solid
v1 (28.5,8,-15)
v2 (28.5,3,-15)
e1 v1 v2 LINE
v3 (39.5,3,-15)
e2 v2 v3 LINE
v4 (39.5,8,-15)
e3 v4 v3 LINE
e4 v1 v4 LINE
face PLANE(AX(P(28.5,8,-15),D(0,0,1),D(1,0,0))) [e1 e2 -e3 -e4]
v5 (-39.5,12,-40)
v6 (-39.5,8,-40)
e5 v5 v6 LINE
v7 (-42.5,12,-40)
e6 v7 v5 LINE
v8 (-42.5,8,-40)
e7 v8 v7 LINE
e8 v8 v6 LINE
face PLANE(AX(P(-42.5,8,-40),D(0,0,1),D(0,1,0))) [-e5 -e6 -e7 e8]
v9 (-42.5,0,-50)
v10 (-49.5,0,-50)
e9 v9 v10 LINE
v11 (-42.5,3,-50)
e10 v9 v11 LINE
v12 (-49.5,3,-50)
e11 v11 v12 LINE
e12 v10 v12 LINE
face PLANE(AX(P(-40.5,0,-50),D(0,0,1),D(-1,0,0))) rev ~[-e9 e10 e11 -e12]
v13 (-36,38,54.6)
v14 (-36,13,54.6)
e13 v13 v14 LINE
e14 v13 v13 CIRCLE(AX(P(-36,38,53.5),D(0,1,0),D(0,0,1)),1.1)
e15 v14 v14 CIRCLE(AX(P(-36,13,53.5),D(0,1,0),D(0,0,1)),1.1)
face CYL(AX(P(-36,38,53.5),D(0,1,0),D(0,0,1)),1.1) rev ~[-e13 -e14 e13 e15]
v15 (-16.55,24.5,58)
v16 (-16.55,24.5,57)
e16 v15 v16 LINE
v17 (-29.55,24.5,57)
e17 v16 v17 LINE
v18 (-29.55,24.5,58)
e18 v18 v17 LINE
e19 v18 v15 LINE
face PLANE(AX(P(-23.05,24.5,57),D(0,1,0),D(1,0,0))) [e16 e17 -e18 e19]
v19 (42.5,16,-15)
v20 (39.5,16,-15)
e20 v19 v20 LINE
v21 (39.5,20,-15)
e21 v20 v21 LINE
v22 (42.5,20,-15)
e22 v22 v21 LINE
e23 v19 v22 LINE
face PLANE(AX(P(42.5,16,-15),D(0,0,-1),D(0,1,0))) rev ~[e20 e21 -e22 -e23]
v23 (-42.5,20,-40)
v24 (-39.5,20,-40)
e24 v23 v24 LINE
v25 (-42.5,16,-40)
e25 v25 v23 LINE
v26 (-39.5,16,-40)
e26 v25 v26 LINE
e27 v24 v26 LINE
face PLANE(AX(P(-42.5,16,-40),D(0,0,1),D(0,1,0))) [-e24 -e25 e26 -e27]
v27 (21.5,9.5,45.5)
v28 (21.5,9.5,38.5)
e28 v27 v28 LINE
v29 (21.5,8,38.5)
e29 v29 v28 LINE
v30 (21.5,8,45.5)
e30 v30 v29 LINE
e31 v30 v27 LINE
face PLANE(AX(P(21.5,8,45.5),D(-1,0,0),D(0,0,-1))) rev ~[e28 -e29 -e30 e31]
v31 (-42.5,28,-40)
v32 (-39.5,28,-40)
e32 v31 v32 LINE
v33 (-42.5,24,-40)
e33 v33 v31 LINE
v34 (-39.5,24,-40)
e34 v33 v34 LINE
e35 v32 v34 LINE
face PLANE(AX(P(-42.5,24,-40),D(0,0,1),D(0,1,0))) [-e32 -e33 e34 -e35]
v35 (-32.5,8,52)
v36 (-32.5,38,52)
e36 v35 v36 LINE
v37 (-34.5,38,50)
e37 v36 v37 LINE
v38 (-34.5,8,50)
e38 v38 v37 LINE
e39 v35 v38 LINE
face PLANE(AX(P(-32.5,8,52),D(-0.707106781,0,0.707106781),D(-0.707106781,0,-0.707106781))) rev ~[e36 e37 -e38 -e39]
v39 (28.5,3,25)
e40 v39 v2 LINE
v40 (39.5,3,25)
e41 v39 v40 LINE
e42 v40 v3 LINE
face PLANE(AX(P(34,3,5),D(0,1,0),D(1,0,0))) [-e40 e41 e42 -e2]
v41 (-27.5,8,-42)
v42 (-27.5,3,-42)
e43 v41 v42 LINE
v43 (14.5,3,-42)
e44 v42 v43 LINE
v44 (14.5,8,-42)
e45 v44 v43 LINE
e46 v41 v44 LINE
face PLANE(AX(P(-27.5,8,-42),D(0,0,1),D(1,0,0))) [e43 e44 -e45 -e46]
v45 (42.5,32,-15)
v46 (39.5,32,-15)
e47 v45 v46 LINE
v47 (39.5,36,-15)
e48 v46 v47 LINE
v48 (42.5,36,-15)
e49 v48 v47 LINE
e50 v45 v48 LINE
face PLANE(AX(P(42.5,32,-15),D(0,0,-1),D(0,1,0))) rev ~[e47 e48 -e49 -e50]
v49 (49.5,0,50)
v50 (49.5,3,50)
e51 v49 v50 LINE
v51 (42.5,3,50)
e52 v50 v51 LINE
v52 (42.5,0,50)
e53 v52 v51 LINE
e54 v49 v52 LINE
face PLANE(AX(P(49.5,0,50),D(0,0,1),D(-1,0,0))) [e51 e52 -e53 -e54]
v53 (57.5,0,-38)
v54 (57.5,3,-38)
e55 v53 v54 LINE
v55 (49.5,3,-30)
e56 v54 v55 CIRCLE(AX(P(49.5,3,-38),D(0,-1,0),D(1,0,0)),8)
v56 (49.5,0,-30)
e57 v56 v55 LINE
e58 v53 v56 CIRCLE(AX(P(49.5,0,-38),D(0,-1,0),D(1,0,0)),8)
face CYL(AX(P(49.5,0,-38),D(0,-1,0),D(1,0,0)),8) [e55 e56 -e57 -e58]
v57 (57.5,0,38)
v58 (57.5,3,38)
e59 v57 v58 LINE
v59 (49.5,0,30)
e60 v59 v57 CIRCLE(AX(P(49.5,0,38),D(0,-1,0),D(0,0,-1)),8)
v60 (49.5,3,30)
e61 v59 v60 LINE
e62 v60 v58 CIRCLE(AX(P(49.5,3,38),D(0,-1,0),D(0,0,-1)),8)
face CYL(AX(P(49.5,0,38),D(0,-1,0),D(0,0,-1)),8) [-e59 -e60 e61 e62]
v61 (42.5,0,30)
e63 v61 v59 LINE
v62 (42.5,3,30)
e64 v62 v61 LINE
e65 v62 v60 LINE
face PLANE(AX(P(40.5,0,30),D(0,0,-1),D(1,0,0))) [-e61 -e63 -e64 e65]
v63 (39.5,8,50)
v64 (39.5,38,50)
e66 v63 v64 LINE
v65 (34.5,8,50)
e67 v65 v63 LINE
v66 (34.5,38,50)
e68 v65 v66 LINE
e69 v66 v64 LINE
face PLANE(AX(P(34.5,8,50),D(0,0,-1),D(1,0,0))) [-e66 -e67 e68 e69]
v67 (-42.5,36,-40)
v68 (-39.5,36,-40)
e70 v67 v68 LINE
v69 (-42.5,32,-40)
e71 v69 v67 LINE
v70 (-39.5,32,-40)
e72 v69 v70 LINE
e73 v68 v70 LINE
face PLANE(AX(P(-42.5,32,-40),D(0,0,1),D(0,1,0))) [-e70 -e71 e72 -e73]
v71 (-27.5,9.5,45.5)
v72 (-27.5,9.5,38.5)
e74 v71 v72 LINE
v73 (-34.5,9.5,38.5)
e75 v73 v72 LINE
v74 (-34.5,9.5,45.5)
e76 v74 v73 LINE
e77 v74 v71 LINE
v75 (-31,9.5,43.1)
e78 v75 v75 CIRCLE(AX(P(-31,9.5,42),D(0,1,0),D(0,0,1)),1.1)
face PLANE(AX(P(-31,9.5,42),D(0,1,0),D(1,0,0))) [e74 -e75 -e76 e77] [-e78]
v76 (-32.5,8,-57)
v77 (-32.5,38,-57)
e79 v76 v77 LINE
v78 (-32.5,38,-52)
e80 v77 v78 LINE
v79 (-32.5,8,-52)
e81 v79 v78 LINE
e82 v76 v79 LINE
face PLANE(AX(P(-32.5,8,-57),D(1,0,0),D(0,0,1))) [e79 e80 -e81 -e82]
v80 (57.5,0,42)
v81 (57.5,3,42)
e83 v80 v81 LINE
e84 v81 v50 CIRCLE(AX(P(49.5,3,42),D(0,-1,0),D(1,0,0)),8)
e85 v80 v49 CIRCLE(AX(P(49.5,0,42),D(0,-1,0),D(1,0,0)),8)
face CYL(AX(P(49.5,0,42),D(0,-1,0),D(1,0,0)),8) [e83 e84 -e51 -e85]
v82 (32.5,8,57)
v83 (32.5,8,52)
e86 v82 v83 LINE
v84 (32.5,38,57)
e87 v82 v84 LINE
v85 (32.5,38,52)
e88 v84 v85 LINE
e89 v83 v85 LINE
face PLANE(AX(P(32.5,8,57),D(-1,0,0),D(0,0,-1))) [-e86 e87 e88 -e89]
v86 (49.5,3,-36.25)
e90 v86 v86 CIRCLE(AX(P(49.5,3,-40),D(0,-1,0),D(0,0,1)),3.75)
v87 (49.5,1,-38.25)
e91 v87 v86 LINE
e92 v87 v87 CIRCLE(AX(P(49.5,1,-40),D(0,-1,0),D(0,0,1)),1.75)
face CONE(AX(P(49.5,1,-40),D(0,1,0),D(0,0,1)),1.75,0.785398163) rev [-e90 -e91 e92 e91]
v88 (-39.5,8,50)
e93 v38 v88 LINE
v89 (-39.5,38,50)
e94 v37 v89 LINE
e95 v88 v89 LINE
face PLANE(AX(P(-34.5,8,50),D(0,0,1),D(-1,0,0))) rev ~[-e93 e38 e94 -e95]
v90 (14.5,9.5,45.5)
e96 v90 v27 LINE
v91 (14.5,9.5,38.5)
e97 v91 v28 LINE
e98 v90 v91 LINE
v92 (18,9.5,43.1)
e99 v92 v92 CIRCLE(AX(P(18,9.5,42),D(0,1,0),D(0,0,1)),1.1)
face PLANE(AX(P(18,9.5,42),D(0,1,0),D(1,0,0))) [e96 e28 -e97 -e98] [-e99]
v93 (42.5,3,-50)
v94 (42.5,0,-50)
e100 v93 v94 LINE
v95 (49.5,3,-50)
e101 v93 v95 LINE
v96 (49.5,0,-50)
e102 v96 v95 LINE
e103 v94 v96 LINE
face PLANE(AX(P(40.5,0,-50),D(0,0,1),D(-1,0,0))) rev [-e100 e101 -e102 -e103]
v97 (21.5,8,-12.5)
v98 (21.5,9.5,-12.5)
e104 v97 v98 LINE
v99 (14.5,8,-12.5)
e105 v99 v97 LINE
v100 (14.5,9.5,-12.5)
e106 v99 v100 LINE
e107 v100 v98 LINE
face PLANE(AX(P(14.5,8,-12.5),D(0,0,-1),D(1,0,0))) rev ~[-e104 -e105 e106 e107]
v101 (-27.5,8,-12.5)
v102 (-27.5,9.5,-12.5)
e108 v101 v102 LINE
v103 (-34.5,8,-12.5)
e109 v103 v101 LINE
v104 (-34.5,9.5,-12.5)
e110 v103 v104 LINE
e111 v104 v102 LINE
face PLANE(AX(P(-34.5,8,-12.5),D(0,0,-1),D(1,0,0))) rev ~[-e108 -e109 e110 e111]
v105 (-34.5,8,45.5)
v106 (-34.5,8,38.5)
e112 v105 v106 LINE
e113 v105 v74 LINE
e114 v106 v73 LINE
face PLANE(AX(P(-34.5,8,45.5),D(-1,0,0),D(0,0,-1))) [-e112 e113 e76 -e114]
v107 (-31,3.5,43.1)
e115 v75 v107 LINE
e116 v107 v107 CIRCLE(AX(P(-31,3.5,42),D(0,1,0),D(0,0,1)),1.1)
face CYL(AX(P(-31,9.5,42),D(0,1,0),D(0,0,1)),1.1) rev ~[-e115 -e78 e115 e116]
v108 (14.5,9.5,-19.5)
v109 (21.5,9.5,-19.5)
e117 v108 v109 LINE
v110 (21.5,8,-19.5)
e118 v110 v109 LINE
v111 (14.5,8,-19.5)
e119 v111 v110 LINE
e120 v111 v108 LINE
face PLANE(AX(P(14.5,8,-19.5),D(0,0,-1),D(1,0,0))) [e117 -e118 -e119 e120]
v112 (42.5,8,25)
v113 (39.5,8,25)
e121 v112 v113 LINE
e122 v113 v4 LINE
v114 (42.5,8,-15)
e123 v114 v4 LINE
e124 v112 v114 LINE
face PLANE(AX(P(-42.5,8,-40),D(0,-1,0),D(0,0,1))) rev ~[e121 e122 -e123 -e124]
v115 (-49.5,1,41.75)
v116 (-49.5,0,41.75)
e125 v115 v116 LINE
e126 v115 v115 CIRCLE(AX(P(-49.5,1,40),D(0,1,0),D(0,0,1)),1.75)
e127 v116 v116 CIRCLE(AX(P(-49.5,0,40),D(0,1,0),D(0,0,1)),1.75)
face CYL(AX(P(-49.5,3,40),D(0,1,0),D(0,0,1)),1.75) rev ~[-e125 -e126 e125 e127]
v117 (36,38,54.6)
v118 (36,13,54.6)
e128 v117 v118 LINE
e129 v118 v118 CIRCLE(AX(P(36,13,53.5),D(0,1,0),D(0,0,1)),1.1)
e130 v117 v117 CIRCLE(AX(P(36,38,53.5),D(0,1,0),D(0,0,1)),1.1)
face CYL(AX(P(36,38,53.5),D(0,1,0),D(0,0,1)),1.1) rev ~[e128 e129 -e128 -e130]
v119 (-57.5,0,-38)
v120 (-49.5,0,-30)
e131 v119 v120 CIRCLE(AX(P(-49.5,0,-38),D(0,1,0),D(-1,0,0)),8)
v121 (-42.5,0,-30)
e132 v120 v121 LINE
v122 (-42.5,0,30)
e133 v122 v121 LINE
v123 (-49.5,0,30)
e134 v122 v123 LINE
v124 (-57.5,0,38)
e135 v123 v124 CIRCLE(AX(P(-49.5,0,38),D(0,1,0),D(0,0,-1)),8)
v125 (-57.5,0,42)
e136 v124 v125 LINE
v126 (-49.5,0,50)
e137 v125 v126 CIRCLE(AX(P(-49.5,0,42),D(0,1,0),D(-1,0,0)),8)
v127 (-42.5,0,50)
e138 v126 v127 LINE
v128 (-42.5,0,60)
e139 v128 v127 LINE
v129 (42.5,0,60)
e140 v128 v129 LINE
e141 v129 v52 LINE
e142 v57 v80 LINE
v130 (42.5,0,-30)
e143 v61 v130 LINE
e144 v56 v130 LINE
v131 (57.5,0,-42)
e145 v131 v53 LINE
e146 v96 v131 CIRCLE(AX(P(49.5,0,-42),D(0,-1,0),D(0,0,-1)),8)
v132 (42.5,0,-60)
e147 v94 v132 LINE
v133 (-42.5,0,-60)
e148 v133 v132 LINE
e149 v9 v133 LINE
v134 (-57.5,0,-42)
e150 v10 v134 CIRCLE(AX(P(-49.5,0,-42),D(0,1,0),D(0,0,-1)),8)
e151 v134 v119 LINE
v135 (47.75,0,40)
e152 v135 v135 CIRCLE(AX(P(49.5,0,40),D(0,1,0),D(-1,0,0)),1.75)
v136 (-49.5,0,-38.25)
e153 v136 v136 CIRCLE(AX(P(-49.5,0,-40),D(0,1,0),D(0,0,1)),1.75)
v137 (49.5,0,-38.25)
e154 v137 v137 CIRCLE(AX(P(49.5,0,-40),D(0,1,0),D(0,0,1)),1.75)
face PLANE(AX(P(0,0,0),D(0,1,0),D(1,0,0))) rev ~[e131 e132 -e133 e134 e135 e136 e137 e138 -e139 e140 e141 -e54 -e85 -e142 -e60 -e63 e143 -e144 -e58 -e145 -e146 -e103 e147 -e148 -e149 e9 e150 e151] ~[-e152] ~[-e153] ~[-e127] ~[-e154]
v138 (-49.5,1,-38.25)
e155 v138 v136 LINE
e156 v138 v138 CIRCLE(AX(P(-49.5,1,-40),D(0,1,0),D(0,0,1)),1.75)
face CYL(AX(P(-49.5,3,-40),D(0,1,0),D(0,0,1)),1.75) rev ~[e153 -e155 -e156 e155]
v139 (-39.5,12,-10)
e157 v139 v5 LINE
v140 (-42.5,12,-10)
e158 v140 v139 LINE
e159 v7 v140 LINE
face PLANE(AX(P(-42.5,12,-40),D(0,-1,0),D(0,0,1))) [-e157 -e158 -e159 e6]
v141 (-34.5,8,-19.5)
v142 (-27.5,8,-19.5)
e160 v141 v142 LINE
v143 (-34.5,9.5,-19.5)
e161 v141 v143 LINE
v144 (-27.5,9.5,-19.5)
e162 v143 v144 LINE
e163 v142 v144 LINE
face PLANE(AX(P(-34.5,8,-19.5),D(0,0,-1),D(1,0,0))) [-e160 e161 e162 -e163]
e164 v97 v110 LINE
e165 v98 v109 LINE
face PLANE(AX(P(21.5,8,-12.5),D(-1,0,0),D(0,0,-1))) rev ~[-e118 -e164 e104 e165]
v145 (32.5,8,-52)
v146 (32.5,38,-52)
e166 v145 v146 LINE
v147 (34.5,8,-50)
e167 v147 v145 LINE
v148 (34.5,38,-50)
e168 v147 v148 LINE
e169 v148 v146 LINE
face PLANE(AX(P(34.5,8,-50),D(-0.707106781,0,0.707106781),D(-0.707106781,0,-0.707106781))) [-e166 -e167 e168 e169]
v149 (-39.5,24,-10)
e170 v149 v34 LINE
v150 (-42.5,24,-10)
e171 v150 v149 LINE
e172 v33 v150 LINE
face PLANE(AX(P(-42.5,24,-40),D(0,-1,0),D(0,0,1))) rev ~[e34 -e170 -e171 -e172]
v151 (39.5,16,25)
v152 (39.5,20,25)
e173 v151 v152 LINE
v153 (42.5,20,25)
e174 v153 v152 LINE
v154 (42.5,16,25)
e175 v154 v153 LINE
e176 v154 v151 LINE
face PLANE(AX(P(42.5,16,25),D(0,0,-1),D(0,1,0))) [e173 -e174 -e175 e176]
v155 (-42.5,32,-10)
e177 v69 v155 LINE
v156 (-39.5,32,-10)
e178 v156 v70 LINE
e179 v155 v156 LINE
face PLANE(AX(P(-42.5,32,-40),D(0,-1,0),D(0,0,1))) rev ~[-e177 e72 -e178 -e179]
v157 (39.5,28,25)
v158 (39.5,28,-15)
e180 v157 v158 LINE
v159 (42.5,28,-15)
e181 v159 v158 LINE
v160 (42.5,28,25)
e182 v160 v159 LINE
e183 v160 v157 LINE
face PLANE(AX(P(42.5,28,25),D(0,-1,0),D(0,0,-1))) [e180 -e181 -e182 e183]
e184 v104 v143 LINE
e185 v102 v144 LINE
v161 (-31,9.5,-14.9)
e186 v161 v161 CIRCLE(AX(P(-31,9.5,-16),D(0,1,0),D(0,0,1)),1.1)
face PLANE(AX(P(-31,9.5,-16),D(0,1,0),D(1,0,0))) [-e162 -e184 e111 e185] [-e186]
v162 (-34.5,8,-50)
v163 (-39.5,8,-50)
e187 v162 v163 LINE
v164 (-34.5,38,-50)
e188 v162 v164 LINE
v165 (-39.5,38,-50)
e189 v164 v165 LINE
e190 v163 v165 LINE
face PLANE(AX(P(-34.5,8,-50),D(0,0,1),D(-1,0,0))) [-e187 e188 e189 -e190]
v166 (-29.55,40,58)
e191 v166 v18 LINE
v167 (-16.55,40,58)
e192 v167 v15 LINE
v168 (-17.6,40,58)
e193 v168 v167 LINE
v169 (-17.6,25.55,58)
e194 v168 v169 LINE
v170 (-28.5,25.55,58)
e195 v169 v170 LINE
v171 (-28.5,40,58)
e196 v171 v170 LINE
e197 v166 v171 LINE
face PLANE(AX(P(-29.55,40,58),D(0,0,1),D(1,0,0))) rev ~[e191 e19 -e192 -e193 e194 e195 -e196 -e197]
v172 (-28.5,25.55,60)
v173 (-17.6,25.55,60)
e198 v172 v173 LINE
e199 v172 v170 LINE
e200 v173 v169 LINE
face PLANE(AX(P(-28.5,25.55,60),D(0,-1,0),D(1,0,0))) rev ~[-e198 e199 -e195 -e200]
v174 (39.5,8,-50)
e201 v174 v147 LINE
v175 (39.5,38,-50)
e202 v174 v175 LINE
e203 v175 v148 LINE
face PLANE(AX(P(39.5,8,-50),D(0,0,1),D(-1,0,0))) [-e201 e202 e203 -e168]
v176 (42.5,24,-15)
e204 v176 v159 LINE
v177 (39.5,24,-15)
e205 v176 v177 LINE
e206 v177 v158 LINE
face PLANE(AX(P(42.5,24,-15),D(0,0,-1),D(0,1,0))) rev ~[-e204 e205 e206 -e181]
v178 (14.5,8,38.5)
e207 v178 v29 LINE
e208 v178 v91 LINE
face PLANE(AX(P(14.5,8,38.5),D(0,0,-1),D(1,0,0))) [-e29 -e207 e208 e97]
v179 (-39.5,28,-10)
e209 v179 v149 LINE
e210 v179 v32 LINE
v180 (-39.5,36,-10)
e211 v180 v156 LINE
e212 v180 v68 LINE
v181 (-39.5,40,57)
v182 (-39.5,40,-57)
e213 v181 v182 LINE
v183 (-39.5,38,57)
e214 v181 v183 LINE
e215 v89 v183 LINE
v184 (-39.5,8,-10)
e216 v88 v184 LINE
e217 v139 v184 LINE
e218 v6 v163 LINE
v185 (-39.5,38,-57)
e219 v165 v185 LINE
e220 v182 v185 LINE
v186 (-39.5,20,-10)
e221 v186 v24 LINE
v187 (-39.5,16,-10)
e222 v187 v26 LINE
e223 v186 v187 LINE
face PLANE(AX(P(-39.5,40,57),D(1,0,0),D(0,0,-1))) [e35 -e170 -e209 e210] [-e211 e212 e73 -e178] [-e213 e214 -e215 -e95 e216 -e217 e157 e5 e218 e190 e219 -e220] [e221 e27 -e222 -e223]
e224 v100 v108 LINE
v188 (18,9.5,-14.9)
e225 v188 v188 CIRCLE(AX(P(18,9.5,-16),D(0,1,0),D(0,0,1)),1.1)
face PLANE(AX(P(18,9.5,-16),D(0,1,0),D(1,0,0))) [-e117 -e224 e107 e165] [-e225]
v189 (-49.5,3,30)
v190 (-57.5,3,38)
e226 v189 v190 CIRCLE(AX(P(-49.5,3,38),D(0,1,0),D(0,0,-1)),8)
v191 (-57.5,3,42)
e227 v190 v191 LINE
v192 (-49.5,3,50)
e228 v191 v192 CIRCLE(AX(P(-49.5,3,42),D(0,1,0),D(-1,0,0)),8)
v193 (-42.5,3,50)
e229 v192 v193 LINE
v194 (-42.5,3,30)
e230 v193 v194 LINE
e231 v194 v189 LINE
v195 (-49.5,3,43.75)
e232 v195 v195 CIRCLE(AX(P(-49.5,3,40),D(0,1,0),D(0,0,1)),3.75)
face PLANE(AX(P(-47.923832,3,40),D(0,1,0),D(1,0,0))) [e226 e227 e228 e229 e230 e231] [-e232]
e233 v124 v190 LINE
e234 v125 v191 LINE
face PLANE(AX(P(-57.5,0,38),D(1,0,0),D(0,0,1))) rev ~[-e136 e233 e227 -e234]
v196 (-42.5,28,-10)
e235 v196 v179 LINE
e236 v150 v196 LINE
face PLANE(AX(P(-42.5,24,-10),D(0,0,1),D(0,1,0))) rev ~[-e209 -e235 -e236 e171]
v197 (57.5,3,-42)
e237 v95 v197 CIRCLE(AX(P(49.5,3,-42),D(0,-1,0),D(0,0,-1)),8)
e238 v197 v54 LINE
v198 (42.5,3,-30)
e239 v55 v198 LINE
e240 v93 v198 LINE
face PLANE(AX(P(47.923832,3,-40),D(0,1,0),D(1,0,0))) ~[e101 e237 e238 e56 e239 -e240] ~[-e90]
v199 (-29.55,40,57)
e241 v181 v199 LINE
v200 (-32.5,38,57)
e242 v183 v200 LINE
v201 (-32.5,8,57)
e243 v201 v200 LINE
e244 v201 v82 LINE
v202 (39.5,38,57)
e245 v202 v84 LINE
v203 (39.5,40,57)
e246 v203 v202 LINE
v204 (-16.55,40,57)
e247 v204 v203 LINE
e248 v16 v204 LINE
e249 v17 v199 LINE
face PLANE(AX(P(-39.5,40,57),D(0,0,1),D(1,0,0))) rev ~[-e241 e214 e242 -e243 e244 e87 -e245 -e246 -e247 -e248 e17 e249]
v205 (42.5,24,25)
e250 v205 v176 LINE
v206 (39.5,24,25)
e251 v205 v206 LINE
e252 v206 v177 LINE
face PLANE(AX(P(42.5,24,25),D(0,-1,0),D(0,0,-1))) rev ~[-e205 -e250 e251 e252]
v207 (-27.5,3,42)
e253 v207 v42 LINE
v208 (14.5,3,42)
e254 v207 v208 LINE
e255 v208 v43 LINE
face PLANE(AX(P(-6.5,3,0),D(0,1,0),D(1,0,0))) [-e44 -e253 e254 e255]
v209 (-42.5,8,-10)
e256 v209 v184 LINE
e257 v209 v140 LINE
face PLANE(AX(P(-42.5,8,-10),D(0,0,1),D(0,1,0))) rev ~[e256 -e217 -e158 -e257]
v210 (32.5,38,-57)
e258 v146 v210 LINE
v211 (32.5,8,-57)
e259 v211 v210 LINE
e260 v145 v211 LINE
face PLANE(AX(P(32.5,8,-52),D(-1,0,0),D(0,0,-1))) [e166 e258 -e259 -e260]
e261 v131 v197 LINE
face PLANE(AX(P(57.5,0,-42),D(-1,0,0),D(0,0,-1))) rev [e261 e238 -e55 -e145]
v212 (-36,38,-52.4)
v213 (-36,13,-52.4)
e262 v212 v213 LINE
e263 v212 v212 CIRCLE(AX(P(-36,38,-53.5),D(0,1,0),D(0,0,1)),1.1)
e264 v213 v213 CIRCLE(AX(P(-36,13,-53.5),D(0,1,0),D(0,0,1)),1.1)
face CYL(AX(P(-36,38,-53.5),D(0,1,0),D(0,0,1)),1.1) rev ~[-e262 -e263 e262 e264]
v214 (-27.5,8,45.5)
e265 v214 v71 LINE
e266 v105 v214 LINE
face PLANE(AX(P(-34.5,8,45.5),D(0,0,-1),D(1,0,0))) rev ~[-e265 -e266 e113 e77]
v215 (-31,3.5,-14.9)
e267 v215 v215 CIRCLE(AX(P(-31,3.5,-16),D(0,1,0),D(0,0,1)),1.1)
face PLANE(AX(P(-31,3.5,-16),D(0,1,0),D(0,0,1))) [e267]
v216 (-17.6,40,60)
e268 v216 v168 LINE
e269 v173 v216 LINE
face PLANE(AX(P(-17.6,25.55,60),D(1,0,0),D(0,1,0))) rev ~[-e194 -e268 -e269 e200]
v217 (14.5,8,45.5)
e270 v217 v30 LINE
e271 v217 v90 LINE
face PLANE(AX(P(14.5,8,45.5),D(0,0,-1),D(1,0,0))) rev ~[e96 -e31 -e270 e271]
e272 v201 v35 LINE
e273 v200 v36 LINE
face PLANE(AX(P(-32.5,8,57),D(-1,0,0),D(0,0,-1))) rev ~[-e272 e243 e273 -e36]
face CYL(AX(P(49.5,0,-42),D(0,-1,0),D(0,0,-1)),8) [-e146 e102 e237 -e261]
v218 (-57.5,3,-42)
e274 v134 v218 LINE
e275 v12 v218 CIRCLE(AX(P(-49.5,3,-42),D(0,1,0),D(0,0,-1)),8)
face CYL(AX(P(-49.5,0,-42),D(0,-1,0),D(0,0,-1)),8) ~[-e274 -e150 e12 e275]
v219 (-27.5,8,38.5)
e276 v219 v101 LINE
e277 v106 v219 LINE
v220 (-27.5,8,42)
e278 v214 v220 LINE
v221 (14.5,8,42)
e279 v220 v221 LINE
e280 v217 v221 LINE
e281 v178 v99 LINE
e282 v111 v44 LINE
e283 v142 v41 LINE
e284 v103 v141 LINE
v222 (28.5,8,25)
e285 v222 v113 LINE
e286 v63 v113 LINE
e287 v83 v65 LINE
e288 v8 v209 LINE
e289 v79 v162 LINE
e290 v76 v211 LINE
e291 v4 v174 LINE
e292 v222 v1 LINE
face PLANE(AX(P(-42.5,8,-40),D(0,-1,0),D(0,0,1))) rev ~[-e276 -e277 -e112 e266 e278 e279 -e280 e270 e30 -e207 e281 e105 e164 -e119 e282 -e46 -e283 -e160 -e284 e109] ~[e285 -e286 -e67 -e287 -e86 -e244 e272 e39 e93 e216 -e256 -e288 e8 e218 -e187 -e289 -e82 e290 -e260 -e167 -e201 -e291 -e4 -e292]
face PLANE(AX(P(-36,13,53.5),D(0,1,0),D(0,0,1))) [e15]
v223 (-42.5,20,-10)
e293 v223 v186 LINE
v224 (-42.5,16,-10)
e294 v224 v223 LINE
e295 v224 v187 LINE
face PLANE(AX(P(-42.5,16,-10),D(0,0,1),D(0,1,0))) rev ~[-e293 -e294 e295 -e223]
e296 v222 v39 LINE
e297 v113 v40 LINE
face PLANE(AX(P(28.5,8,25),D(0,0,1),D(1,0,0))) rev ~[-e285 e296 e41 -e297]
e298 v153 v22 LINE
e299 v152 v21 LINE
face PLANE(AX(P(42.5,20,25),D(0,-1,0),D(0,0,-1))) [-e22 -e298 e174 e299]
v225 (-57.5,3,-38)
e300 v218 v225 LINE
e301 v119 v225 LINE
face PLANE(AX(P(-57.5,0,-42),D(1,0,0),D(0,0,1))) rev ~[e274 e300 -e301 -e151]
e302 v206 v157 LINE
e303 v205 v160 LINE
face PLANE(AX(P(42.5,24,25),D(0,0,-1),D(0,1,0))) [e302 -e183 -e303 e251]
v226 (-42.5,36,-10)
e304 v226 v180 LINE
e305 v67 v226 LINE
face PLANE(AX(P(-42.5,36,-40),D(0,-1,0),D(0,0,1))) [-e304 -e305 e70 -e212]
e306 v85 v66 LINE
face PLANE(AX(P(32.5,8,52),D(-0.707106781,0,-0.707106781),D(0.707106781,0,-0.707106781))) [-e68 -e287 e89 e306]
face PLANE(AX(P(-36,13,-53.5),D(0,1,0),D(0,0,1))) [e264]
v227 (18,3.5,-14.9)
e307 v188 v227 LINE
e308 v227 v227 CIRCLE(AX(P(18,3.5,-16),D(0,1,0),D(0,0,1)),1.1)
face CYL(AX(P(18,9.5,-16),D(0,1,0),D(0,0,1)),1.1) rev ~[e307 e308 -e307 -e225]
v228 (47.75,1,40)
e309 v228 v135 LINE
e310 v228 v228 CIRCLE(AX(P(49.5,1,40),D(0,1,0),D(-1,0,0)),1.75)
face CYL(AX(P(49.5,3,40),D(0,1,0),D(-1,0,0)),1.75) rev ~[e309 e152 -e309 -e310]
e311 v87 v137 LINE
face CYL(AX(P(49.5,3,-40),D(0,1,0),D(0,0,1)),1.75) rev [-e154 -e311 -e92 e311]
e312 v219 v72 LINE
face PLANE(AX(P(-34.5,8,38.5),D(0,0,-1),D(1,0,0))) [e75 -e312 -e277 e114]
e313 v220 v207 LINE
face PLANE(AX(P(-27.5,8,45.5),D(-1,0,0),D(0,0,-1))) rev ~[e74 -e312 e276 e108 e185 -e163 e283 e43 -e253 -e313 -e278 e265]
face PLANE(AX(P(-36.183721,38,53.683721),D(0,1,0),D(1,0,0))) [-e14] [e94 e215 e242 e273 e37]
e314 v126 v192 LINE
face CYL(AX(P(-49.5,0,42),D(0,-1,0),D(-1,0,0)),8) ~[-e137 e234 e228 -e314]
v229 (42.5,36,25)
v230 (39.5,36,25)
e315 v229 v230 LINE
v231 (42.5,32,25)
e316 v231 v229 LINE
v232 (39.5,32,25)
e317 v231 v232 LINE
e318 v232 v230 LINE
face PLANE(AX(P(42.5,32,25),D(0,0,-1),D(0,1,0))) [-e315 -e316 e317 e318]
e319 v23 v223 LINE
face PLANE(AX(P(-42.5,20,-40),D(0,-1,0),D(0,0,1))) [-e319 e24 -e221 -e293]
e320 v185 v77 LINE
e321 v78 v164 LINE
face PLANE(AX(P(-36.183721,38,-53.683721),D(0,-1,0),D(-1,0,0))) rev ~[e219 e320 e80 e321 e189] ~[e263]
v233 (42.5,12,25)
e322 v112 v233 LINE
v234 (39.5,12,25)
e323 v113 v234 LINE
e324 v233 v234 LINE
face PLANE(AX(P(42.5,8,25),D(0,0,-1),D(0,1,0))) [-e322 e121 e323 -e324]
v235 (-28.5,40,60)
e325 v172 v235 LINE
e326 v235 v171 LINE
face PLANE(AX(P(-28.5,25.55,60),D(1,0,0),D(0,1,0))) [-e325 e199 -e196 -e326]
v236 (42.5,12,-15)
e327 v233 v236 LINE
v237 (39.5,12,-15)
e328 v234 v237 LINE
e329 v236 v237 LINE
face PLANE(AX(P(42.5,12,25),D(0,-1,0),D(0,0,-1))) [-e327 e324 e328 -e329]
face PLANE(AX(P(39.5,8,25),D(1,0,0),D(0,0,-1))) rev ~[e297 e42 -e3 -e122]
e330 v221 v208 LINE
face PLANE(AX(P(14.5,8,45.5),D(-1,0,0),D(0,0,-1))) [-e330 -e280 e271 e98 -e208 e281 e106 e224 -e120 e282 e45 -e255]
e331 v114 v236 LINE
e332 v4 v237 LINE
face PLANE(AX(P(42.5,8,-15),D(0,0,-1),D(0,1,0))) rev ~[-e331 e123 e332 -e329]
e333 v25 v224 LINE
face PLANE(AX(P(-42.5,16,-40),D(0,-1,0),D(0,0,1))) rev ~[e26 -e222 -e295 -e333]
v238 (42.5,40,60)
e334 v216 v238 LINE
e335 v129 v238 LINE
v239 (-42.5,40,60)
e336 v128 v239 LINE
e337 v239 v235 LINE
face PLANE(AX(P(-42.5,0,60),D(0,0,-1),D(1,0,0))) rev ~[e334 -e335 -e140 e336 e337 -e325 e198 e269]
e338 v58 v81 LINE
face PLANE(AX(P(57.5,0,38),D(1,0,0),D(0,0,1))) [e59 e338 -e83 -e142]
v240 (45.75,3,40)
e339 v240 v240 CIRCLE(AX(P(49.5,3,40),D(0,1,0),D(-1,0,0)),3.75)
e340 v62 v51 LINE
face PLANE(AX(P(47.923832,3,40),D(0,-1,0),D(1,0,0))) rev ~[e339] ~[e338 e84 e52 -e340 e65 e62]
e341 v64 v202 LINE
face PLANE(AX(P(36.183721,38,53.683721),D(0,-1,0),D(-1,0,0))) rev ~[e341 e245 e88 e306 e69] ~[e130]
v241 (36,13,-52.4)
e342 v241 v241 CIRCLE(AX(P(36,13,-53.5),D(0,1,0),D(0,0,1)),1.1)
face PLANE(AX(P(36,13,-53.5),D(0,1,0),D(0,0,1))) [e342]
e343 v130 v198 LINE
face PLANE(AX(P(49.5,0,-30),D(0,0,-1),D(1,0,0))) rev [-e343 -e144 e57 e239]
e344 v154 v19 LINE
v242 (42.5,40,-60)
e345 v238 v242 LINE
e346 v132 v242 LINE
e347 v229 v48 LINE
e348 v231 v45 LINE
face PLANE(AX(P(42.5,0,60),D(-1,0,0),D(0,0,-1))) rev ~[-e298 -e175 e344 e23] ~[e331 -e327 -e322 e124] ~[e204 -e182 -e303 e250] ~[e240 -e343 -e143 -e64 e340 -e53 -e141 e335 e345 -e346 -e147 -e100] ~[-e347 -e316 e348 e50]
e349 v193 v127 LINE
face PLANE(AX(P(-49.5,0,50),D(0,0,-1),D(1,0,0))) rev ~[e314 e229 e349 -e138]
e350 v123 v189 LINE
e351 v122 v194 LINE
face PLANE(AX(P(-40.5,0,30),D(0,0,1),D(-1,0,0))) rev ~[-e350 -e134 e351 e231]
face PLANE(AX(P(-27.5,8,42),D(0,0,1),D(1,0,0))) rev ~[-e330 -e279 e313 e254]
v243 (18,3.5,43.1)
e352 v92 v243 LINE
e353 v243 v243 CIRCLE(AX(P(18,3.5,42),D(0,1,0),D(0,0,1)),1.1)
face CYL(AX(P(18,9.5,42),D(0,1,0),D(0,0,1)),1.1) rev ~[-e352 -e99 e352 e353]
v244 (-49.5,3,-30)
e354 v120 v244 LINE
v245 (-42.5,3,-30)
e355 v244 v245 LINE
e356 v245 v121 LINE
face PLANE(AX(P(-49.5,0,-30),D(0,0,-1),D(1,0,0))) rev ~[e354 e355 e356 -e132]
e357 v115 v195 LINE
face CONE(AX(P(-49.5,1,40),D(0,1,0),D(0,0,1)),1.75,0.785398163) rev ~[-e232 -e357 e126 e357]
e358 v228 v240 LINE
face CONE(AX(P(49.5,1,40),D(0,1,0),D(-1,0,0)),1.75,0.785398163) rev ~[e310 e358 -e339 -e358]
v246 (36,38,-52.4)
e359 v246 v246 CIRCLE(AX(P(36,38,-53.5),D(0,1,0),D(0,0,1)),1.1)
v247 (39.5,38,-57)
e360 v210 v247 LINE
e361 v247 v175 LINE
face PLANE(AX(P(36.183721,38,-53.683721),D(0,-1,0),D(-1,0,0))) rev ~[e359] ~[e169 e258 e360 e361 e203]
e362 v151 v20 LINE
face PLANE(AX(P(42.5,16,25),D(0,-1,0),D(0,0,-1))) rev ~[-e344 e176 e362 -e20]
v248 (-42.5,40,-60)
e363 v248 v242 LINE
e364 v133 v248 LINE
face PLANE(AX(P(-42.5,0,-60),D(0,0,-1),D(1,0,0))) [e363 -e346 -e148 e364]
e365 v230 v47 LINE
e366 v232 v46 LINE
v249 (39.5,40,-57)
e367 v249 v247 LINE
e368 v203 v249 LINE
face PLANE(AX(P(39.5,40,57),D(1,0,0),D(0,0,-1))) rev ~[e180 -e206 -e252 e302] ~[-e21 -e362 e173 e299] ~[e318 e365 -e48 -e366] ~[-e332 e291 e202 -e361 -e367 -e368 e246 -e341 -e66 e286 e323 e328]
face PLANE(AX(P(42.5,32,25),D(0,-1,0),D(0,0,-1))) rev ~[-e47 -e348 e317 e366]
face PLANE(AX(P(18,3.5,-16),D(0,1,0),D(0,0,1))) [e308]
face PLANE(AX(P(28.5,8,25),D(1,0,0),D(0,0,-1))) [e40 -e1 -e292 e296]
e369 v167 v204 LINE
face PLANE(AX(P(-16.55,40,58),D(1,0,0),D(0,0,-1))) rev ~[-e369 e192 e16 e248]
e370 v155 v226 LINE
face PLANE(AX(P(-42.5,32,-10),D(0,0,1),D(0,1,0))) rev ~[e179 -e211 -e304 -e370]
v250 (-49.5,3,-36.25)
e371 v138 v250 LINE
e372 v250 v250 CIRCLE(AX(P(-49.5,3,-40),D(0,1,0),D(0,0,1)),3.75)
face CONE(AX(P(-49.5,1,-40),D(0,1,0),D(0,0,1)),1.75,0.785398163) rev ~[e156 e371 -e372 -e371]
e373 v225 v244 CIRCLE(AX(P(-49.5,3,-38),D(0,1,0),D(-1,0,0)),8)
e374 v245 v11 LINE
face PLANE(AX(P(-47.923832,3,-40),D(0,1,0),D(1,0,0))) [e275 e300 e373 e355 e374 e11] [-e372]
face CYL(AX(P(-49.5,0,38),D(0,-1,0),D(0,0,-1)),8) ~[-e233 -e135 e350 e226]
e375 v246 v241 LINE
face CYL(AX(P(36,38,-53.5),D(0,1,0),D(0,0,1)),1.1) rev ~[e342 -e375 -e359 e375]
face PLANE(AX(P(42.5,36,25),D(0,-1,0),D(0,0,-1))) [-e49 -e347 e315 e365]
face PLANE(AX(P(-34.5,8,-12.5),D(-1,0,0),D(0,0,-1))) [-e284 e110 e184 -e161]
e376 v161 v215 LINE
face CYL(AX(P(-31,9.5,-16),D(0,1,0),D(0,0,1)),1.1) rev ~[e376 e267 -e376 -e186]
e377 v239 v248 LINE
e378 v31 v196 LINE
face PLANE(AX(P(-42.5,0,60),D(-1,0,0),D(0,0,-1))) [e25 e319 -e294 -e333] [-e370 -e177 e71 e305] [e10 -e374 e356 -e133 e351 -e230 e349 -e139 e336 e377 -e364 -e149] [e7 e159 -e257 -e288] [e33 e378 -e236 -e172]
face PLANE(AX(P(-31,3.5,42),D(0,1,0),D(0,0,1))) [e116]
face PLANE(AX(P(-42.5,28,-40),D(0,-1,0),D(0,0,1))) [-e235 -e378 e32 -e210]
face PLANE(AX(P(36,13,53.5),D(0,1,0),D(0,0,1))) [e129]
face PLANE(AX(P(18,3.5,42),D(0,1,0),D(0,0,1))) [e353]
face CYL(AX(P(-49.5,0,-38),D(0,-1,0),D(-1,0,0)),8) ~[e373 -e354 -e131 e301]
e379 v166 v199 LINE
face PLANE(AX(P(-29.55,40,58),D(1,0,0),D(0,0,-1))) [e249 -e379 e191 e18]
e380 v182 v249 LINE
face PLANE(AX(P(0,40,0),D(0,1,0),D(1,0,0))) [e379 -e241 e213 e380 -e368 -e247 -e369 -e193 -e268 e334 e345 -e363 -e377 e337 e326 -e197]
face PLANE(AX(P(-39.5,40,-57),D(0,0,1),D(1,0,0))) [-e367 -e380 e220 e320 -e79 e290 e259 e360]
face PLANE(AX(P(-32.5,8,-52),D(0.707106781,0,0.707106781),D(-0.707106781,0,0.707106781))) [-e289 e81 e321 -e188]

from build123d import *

# Parameters (mm, degrees)
SKETCH_1_W               = 85
SKETCH_1_H               = 120
EXTRUDE_1_DEPTH          = 40
SKETCH_2_W               = 79
SKETCH_2_H               = 114
CUT_EXTRUDE_1_DEPTH      = 32
SKETCH_3_W               = 42
SKETCH_3_H               = 84
CUT_EXTRUDE_2_DEPTH      = 5
SKETCH_4_W               = 7
SKETCH_4_H               = 7
EXTRUDE_2_DEPTH          = 1.5
SKETCH_5_R               = 1.1
CUT_EXTRUDE_3_DEPTH      = 6
EXTRUDE_3_DEPTH          = 30
SKETCH_7_R               = 1.1
CUT_EXTRUDE_4_DEPTH      = 25
EXTRUDE_4_DEPTH          = 3
SKETCH_9_R               = 1.75
CUT_EXTRUDE_5_DEPTH      = 91.968401107
PATTERN_LINEAR_1_COUNT   = 2
PATTERN_LINEAR_1_PITCH   = 80
MIRROR_1_COPY_1_DEPTH    = 3
MIRROR_1_COPY_2_SKETCH_R = 1.75
MIRROR_1_COPY_2_DEPTH    = 91.968401107
CHAMFER_2_SIZE           = 2
SKETCH_10_W              = 10.9
SKETCH_10_H              = 16.45
CUT_EXTRUDE_6_DEPTH      = 5
SKETCH_11_W              = 13
SKETCH_11_H              = 2
CUT_EXTRUDE_7_DEPTH      = 15.5
SKETCH_12_W              = 40
SKETCH_12_H              = 4
CUT_EXTRUDE_8_DEPTH      = 10
SKETCH_13_W              = 30
SKETCH_13_H              = 4
CUT_EXTRUDE_9_DEPTH      = 5
SKETCH_14_W              = 11
SKETCH_14_H              = 40
CUT_EXTRUDE_10_DEPTH     = 5


with BuildPart() as part:
    # Эскиз1 → Бобышка-Вытянуть1 (new body)
    with BuildSketch(Plane(origin=(0, 0, 0), x_dir=(1, 0, 0), z_dir=(0, 1, 0))):
        Rectangle(SKETCH_1_W, SKETCH_1_H)
    extrude(amount=EXTRUDE_1_DEPTH)

    # Эскиз2 → Вырез-Вытянуть1 (cut)
    with BuildSketch(Plane(origin=(0, 40, 0), x_dir=(1, 0, 0), z_dir=(0, 1, 0))):
        Rectangle(SKETCH_2_W, SKETCH_2_H)
    extrude(amount=-CUT_EXTRUDE_1_DEPTH, mode=Mode.SUBTRACT)

    # Эскиз3 → Вырез-Вытянуть2 (cut)
    with BuildSketch(Plane(origin=(0, 8, 0), x_dir=(1, 0, 0), z_dir=(0, 1, 0))):
        with Locations((-6.5, 0)):
            Rectangle(SKETCH_3_W, SKETCH_3_H)
    extrude(amount=-CUT_EXTRUDE_2_DEPTH, mode=Mode.SUBTRACT)

    # Эскиз4 → Бобышка-Вытянуть2 (add)
    with BuildSketch(Plane(origin=(0, 8, 0), x_dir=(1, 0, 0), z_dir=(0, 1, 0))):
        with Locations((-31, 16)):
            Rectangle(SKETCH_4_W, SKETCH_4_H)
        with Locations((18, 16)):
            Rectangle(SKETCH_4_W, SKETCH_4_H)
        with Locations((-31, -42)):
            Rectangle(SKETCH_4_W, SKETCH_4_H)
        with Locations((18, -42)):
            Rectangle(SKETCH_4_W, SKETCH_4_H)
    extrude(amount=EXTRUDE_2_DEPTH)

    # Эскиз5 → Вырез-Вытянуть3 (cut)
    with BuildSketch(Plane(origin=(0, 9.5, 0), x_dir=(1, 0, 0), z_dir=(0, 1, 0))):
        with Locations(Location((-31, 16, 0), (0, 0, 270))):
            Circle(SKETCH_5_R)
        with Locations(Location((18, 16, 0), (0, 0, 270))):
            Circle(SKETCH_5_R)
        with Locations(Location((18, -42, 0), (0, 0, 270))):
            Circle(SKETCH_5_R)
        with Locations(Location((-31, -42, 0), (0, 0, 270))):
            Circle(SKETCH_5_R)
    extrude(amount=-CUT_EXTRUDE_3_DEPTH, mode=Mode.SUBTRACT)

    # Эскиз6 → Бобышка-Вытянуть3 (add)
    with BuildSketch(Plane(origin=(0, 8, 0), x_dir=(1, 0, 0), z_dir=(0, 1, 0))):
        Polygon((-32.5, 52), (-34.5, 50), (-39.5, 50), (-39.5, 57), (-32.5, 57), align=None)
        Polygon((34.5, 50), (32.5, 52), (32.5, 57), (39.5, 57), (39.5, 50), align=None)
        Polygon((-39.5, -57), (-32.5, -57), (-32.5, -52), (-34.5, -50), (-39.5, -50), align=None)
        Polygon((39.5, -57), (32.5, -57), (32.5, -52), (34.5, -50), (39.5, -50), align=None)
    extrude(amount=EXTRUDE_3_DEPTH)

    # Эскиз7 → Вырез-Вытянуть4 (cut)
    with BuildSketch(Plane(origin=(0, 38, 0), x_dir=(1, 0, 0), z_dir=(0, 1, 0))):
        with Locations(Location((-36, 53.5, 0), (0, 0, 270))):
            Circle(SKETCH_7_R)
        with Locations(Location((36, 53.5, 0), (0, 0, 270))):
            Circle(SKETCH_7_R)
        with Locations(Location((-36, -53.5, 0), (0, 0, 270))):
            Circle(SKETCH_7_R)
        with Locations(Location((36, -53.5, 0), (0, 0, 270))):
            Circle(SKETCH_7_R)
    extrude(amount=-CUT_EXTRUDE_4_DEPTH, mode=Mode.SUBTRACT)

    # Эскиз8 → Бобышка-Вытянуть4 (add)
    with BuildSketch(Plane(origin=(0, 0, 0), x_dir=(1, 0, 0), z_dir=(0, 1, 0))):
        with BuildLine():
            Line((-40.5, 50), (-49.5, 50))
            ThreePointArc((-49.5, 50), (-55.156854249, 47.656854249), (-57.5, 42))
            Line((-57.5, 42), (-57.5, 38))
            ThreePointArc((-57.5, 38), (-55.156854249, 32.343145751), (-49.5, 30))
            Line((-49.5, 30), (-40.5, 30))
            Line((-40.5, 30), (-40.5, 50))
        make_face()
    extrude_4 = extrude(amount=EXTRUDE_4_DEPTH)

    # Эскиз9 → Вырез-Вытянуть5 (cut, through all)
    with BuildSketch(Plane(origin=(0, 3, 0), x_dir=(1, 0, 0), z_dir=(0, 1, 0))):
        with Locations(Location((-49.5, 40, 0), (0, 0, 270))):
            Circle(SKETCH_9_R)
    cut_extrude_5 = extrude(amount=-CUT_EXTRUDE_5_DEPTH, mode=Mode.SUBTRACT)

    # Линейный массив1: Бобышка-Вытянуть4, Вырез-Вытянуть5 ×2
    with Locations(*[(0, 0, i * PATTERN_LINEAR_1_PITCH) for i in range(1, PATTERN_LINEAR_1_COUNT)]):
        add(extrude_4)
        add(cut_extrude_5, mode=Mode.SUBTRACT)

    # Зеркальное отражение1: Бобышка-Вытянуть4, Вырез-Вытянуть5 across plane
    add(extrude_4.mirror(Plane(origin=(0, 0, 0), x_dir=(0, 0, 1), z_dir=(1, 0, 0))))
    add(cut_extrude_5.mirror(Plane(origin=(0, 0, 0), x_dir=(0, 0, 1), z_dir=(1, 0, 0))), mode=Mode.SUBTRACT)

    # Зеркальное отражение1 copy 1 sketch → Зеркальное отражение1 copy 1 (add)
    with BuildSketch(Plane(origin=(0, 0, 80), x_dir=(-1, 0, 0), z_dir=(0, 1, 0))):
        with BuildLine():
            Line((-40.5, -50), (-49.5, -50))
            ThreePointArc((-49.5, -50), (-55.156854249, -47.656854249), (-57.5, -42))
            Line((-57.5, -42), (-57.5, -38))
            ThreePointArc((-57.5, -38), (-55.156854249, -32.343145751), (-49.5, -30))
            Line((-49.5, -30), (-40.5, -30))
            Line((-40.5, -30), (-40.5, -50))
        make_face()
    extrude(amount=MIRROR_1_COPY_1_DEPTH)

    # Зеркальное отражение1 copy 2 sketch → Зеркальное отражение1 copy 2 (cut, through all)
    with BuildSketch(Plane(origin=(0, 3, 80), x_dir=(-1, 0, 0), z_dir=(0, 1, 0))):
        with Locations((-49.5, -40)):
            Circle(MIRROR_1_COPY_2_SKETCH_R)
    extrude(amount=-MIRROR_1_COPY_2_DEPTH, mode=Mode.SUBTRACT)

    # Фаска2
    chamfer_2_edges = [part.edges().sort_by_distance(p)[0] for p in [
        (-49.5, 3, -41.75),
        (-49.5, 3, 38.25),
        (49.5, 3, -41.75),
        (51.25, 3, 40),
    ]]
    chamfer(chamfer_2_edges, length=CHAMFER_2_SIZE)

    # Эскиз10 → Вырез-Вытянуть6 (cut)
    with BuildSketch(Plane.XY.offset(60)):
        with Locations((-23.05, 33.775)):
            Rectangle(SKETCH_10_W, SKETCH_10_H)
    extrude(amount=-CUT_EXTRUDE_6_DEPTH, mode=Mode.SUBTRACT)

    # Эскиз11 → Вырез-Вытянуть7 (cut)
    with BuildSketch(Plane(origin=(0, 40, 0), x_dir=(1, 0, 0), z_dir=(0, 1, 0))):
        with Locations((-23.05, -57)):
            Rectangle(SKETCH_11_W, SKETCH_11_H)
    extrude(amount=-CUT_EXTRUDE_7_DEPTH, mode=Mode.SUBTRACT)

    # Эскиз12 → Вырез-Вытянуть8 (cut)
    with BuildSketch(Plane(origin=(42.5, 0, 0), x_dir=(0, 0, -1), z_dir=(1, 0, 0))):
        with Locations((-5, 34)):
            Rectangle(SKETCH_12_W, SKETCH_12_H)
        with Locations((-5, 26)):
            Rectangle(SKETCH_12_W, SKETCH_12_H)
        with Locations((-5, 18)):
            Rectangle(SKETCH_12_W, SKETCH_12_H)
        with Locations((-5, 10)):
            Rectangle(SKETCH_12_W, SKETCH_12_H)
    extrude(amount=-CUT_EXTRUDE_8_DEPTH, mode=Mode.SUBTRACT)

    # Эскиз13 → Вырез-Вытянуть9 (cut)
    with BuildSketch(Plane.ZY.offset(42.5)):
        with Locations((-25, 34)):
            Rectangle(SKETCH_13_W, SKETCH_13_H)
        with Locations((-25, 26)):
            Rectangle(SKETCH_13_W, SKETCH_13_H)
        with Locations((-25, 18)):
            Rectangle(SKETCH_13_W, SKETCH_13_H)
        with Locations((-25, 10)):
            Rectangle(SKETCH_13_W, SKETCH_13_H)
    extrude(amount=-CUT_EXTRUDE_9_DEPTH, mode=Mode.SUBTRACT)

    # Эскиз14 → Вырез-Вытянуть10 (cut)
    with BuildSketch(Plane(origin=(0, 8, 0), x_dir=(1, 0, 0), z_dir=(0, 1, 0))):
        with Locations((34, -5)):
            Rectangle(SKETCH_14_W, SKETCH_14_H)
    extrude(amount=-CUT_EXTRUDE_10_DEPTH, mode=Mode.SUBTRACT)


solid = part.part
